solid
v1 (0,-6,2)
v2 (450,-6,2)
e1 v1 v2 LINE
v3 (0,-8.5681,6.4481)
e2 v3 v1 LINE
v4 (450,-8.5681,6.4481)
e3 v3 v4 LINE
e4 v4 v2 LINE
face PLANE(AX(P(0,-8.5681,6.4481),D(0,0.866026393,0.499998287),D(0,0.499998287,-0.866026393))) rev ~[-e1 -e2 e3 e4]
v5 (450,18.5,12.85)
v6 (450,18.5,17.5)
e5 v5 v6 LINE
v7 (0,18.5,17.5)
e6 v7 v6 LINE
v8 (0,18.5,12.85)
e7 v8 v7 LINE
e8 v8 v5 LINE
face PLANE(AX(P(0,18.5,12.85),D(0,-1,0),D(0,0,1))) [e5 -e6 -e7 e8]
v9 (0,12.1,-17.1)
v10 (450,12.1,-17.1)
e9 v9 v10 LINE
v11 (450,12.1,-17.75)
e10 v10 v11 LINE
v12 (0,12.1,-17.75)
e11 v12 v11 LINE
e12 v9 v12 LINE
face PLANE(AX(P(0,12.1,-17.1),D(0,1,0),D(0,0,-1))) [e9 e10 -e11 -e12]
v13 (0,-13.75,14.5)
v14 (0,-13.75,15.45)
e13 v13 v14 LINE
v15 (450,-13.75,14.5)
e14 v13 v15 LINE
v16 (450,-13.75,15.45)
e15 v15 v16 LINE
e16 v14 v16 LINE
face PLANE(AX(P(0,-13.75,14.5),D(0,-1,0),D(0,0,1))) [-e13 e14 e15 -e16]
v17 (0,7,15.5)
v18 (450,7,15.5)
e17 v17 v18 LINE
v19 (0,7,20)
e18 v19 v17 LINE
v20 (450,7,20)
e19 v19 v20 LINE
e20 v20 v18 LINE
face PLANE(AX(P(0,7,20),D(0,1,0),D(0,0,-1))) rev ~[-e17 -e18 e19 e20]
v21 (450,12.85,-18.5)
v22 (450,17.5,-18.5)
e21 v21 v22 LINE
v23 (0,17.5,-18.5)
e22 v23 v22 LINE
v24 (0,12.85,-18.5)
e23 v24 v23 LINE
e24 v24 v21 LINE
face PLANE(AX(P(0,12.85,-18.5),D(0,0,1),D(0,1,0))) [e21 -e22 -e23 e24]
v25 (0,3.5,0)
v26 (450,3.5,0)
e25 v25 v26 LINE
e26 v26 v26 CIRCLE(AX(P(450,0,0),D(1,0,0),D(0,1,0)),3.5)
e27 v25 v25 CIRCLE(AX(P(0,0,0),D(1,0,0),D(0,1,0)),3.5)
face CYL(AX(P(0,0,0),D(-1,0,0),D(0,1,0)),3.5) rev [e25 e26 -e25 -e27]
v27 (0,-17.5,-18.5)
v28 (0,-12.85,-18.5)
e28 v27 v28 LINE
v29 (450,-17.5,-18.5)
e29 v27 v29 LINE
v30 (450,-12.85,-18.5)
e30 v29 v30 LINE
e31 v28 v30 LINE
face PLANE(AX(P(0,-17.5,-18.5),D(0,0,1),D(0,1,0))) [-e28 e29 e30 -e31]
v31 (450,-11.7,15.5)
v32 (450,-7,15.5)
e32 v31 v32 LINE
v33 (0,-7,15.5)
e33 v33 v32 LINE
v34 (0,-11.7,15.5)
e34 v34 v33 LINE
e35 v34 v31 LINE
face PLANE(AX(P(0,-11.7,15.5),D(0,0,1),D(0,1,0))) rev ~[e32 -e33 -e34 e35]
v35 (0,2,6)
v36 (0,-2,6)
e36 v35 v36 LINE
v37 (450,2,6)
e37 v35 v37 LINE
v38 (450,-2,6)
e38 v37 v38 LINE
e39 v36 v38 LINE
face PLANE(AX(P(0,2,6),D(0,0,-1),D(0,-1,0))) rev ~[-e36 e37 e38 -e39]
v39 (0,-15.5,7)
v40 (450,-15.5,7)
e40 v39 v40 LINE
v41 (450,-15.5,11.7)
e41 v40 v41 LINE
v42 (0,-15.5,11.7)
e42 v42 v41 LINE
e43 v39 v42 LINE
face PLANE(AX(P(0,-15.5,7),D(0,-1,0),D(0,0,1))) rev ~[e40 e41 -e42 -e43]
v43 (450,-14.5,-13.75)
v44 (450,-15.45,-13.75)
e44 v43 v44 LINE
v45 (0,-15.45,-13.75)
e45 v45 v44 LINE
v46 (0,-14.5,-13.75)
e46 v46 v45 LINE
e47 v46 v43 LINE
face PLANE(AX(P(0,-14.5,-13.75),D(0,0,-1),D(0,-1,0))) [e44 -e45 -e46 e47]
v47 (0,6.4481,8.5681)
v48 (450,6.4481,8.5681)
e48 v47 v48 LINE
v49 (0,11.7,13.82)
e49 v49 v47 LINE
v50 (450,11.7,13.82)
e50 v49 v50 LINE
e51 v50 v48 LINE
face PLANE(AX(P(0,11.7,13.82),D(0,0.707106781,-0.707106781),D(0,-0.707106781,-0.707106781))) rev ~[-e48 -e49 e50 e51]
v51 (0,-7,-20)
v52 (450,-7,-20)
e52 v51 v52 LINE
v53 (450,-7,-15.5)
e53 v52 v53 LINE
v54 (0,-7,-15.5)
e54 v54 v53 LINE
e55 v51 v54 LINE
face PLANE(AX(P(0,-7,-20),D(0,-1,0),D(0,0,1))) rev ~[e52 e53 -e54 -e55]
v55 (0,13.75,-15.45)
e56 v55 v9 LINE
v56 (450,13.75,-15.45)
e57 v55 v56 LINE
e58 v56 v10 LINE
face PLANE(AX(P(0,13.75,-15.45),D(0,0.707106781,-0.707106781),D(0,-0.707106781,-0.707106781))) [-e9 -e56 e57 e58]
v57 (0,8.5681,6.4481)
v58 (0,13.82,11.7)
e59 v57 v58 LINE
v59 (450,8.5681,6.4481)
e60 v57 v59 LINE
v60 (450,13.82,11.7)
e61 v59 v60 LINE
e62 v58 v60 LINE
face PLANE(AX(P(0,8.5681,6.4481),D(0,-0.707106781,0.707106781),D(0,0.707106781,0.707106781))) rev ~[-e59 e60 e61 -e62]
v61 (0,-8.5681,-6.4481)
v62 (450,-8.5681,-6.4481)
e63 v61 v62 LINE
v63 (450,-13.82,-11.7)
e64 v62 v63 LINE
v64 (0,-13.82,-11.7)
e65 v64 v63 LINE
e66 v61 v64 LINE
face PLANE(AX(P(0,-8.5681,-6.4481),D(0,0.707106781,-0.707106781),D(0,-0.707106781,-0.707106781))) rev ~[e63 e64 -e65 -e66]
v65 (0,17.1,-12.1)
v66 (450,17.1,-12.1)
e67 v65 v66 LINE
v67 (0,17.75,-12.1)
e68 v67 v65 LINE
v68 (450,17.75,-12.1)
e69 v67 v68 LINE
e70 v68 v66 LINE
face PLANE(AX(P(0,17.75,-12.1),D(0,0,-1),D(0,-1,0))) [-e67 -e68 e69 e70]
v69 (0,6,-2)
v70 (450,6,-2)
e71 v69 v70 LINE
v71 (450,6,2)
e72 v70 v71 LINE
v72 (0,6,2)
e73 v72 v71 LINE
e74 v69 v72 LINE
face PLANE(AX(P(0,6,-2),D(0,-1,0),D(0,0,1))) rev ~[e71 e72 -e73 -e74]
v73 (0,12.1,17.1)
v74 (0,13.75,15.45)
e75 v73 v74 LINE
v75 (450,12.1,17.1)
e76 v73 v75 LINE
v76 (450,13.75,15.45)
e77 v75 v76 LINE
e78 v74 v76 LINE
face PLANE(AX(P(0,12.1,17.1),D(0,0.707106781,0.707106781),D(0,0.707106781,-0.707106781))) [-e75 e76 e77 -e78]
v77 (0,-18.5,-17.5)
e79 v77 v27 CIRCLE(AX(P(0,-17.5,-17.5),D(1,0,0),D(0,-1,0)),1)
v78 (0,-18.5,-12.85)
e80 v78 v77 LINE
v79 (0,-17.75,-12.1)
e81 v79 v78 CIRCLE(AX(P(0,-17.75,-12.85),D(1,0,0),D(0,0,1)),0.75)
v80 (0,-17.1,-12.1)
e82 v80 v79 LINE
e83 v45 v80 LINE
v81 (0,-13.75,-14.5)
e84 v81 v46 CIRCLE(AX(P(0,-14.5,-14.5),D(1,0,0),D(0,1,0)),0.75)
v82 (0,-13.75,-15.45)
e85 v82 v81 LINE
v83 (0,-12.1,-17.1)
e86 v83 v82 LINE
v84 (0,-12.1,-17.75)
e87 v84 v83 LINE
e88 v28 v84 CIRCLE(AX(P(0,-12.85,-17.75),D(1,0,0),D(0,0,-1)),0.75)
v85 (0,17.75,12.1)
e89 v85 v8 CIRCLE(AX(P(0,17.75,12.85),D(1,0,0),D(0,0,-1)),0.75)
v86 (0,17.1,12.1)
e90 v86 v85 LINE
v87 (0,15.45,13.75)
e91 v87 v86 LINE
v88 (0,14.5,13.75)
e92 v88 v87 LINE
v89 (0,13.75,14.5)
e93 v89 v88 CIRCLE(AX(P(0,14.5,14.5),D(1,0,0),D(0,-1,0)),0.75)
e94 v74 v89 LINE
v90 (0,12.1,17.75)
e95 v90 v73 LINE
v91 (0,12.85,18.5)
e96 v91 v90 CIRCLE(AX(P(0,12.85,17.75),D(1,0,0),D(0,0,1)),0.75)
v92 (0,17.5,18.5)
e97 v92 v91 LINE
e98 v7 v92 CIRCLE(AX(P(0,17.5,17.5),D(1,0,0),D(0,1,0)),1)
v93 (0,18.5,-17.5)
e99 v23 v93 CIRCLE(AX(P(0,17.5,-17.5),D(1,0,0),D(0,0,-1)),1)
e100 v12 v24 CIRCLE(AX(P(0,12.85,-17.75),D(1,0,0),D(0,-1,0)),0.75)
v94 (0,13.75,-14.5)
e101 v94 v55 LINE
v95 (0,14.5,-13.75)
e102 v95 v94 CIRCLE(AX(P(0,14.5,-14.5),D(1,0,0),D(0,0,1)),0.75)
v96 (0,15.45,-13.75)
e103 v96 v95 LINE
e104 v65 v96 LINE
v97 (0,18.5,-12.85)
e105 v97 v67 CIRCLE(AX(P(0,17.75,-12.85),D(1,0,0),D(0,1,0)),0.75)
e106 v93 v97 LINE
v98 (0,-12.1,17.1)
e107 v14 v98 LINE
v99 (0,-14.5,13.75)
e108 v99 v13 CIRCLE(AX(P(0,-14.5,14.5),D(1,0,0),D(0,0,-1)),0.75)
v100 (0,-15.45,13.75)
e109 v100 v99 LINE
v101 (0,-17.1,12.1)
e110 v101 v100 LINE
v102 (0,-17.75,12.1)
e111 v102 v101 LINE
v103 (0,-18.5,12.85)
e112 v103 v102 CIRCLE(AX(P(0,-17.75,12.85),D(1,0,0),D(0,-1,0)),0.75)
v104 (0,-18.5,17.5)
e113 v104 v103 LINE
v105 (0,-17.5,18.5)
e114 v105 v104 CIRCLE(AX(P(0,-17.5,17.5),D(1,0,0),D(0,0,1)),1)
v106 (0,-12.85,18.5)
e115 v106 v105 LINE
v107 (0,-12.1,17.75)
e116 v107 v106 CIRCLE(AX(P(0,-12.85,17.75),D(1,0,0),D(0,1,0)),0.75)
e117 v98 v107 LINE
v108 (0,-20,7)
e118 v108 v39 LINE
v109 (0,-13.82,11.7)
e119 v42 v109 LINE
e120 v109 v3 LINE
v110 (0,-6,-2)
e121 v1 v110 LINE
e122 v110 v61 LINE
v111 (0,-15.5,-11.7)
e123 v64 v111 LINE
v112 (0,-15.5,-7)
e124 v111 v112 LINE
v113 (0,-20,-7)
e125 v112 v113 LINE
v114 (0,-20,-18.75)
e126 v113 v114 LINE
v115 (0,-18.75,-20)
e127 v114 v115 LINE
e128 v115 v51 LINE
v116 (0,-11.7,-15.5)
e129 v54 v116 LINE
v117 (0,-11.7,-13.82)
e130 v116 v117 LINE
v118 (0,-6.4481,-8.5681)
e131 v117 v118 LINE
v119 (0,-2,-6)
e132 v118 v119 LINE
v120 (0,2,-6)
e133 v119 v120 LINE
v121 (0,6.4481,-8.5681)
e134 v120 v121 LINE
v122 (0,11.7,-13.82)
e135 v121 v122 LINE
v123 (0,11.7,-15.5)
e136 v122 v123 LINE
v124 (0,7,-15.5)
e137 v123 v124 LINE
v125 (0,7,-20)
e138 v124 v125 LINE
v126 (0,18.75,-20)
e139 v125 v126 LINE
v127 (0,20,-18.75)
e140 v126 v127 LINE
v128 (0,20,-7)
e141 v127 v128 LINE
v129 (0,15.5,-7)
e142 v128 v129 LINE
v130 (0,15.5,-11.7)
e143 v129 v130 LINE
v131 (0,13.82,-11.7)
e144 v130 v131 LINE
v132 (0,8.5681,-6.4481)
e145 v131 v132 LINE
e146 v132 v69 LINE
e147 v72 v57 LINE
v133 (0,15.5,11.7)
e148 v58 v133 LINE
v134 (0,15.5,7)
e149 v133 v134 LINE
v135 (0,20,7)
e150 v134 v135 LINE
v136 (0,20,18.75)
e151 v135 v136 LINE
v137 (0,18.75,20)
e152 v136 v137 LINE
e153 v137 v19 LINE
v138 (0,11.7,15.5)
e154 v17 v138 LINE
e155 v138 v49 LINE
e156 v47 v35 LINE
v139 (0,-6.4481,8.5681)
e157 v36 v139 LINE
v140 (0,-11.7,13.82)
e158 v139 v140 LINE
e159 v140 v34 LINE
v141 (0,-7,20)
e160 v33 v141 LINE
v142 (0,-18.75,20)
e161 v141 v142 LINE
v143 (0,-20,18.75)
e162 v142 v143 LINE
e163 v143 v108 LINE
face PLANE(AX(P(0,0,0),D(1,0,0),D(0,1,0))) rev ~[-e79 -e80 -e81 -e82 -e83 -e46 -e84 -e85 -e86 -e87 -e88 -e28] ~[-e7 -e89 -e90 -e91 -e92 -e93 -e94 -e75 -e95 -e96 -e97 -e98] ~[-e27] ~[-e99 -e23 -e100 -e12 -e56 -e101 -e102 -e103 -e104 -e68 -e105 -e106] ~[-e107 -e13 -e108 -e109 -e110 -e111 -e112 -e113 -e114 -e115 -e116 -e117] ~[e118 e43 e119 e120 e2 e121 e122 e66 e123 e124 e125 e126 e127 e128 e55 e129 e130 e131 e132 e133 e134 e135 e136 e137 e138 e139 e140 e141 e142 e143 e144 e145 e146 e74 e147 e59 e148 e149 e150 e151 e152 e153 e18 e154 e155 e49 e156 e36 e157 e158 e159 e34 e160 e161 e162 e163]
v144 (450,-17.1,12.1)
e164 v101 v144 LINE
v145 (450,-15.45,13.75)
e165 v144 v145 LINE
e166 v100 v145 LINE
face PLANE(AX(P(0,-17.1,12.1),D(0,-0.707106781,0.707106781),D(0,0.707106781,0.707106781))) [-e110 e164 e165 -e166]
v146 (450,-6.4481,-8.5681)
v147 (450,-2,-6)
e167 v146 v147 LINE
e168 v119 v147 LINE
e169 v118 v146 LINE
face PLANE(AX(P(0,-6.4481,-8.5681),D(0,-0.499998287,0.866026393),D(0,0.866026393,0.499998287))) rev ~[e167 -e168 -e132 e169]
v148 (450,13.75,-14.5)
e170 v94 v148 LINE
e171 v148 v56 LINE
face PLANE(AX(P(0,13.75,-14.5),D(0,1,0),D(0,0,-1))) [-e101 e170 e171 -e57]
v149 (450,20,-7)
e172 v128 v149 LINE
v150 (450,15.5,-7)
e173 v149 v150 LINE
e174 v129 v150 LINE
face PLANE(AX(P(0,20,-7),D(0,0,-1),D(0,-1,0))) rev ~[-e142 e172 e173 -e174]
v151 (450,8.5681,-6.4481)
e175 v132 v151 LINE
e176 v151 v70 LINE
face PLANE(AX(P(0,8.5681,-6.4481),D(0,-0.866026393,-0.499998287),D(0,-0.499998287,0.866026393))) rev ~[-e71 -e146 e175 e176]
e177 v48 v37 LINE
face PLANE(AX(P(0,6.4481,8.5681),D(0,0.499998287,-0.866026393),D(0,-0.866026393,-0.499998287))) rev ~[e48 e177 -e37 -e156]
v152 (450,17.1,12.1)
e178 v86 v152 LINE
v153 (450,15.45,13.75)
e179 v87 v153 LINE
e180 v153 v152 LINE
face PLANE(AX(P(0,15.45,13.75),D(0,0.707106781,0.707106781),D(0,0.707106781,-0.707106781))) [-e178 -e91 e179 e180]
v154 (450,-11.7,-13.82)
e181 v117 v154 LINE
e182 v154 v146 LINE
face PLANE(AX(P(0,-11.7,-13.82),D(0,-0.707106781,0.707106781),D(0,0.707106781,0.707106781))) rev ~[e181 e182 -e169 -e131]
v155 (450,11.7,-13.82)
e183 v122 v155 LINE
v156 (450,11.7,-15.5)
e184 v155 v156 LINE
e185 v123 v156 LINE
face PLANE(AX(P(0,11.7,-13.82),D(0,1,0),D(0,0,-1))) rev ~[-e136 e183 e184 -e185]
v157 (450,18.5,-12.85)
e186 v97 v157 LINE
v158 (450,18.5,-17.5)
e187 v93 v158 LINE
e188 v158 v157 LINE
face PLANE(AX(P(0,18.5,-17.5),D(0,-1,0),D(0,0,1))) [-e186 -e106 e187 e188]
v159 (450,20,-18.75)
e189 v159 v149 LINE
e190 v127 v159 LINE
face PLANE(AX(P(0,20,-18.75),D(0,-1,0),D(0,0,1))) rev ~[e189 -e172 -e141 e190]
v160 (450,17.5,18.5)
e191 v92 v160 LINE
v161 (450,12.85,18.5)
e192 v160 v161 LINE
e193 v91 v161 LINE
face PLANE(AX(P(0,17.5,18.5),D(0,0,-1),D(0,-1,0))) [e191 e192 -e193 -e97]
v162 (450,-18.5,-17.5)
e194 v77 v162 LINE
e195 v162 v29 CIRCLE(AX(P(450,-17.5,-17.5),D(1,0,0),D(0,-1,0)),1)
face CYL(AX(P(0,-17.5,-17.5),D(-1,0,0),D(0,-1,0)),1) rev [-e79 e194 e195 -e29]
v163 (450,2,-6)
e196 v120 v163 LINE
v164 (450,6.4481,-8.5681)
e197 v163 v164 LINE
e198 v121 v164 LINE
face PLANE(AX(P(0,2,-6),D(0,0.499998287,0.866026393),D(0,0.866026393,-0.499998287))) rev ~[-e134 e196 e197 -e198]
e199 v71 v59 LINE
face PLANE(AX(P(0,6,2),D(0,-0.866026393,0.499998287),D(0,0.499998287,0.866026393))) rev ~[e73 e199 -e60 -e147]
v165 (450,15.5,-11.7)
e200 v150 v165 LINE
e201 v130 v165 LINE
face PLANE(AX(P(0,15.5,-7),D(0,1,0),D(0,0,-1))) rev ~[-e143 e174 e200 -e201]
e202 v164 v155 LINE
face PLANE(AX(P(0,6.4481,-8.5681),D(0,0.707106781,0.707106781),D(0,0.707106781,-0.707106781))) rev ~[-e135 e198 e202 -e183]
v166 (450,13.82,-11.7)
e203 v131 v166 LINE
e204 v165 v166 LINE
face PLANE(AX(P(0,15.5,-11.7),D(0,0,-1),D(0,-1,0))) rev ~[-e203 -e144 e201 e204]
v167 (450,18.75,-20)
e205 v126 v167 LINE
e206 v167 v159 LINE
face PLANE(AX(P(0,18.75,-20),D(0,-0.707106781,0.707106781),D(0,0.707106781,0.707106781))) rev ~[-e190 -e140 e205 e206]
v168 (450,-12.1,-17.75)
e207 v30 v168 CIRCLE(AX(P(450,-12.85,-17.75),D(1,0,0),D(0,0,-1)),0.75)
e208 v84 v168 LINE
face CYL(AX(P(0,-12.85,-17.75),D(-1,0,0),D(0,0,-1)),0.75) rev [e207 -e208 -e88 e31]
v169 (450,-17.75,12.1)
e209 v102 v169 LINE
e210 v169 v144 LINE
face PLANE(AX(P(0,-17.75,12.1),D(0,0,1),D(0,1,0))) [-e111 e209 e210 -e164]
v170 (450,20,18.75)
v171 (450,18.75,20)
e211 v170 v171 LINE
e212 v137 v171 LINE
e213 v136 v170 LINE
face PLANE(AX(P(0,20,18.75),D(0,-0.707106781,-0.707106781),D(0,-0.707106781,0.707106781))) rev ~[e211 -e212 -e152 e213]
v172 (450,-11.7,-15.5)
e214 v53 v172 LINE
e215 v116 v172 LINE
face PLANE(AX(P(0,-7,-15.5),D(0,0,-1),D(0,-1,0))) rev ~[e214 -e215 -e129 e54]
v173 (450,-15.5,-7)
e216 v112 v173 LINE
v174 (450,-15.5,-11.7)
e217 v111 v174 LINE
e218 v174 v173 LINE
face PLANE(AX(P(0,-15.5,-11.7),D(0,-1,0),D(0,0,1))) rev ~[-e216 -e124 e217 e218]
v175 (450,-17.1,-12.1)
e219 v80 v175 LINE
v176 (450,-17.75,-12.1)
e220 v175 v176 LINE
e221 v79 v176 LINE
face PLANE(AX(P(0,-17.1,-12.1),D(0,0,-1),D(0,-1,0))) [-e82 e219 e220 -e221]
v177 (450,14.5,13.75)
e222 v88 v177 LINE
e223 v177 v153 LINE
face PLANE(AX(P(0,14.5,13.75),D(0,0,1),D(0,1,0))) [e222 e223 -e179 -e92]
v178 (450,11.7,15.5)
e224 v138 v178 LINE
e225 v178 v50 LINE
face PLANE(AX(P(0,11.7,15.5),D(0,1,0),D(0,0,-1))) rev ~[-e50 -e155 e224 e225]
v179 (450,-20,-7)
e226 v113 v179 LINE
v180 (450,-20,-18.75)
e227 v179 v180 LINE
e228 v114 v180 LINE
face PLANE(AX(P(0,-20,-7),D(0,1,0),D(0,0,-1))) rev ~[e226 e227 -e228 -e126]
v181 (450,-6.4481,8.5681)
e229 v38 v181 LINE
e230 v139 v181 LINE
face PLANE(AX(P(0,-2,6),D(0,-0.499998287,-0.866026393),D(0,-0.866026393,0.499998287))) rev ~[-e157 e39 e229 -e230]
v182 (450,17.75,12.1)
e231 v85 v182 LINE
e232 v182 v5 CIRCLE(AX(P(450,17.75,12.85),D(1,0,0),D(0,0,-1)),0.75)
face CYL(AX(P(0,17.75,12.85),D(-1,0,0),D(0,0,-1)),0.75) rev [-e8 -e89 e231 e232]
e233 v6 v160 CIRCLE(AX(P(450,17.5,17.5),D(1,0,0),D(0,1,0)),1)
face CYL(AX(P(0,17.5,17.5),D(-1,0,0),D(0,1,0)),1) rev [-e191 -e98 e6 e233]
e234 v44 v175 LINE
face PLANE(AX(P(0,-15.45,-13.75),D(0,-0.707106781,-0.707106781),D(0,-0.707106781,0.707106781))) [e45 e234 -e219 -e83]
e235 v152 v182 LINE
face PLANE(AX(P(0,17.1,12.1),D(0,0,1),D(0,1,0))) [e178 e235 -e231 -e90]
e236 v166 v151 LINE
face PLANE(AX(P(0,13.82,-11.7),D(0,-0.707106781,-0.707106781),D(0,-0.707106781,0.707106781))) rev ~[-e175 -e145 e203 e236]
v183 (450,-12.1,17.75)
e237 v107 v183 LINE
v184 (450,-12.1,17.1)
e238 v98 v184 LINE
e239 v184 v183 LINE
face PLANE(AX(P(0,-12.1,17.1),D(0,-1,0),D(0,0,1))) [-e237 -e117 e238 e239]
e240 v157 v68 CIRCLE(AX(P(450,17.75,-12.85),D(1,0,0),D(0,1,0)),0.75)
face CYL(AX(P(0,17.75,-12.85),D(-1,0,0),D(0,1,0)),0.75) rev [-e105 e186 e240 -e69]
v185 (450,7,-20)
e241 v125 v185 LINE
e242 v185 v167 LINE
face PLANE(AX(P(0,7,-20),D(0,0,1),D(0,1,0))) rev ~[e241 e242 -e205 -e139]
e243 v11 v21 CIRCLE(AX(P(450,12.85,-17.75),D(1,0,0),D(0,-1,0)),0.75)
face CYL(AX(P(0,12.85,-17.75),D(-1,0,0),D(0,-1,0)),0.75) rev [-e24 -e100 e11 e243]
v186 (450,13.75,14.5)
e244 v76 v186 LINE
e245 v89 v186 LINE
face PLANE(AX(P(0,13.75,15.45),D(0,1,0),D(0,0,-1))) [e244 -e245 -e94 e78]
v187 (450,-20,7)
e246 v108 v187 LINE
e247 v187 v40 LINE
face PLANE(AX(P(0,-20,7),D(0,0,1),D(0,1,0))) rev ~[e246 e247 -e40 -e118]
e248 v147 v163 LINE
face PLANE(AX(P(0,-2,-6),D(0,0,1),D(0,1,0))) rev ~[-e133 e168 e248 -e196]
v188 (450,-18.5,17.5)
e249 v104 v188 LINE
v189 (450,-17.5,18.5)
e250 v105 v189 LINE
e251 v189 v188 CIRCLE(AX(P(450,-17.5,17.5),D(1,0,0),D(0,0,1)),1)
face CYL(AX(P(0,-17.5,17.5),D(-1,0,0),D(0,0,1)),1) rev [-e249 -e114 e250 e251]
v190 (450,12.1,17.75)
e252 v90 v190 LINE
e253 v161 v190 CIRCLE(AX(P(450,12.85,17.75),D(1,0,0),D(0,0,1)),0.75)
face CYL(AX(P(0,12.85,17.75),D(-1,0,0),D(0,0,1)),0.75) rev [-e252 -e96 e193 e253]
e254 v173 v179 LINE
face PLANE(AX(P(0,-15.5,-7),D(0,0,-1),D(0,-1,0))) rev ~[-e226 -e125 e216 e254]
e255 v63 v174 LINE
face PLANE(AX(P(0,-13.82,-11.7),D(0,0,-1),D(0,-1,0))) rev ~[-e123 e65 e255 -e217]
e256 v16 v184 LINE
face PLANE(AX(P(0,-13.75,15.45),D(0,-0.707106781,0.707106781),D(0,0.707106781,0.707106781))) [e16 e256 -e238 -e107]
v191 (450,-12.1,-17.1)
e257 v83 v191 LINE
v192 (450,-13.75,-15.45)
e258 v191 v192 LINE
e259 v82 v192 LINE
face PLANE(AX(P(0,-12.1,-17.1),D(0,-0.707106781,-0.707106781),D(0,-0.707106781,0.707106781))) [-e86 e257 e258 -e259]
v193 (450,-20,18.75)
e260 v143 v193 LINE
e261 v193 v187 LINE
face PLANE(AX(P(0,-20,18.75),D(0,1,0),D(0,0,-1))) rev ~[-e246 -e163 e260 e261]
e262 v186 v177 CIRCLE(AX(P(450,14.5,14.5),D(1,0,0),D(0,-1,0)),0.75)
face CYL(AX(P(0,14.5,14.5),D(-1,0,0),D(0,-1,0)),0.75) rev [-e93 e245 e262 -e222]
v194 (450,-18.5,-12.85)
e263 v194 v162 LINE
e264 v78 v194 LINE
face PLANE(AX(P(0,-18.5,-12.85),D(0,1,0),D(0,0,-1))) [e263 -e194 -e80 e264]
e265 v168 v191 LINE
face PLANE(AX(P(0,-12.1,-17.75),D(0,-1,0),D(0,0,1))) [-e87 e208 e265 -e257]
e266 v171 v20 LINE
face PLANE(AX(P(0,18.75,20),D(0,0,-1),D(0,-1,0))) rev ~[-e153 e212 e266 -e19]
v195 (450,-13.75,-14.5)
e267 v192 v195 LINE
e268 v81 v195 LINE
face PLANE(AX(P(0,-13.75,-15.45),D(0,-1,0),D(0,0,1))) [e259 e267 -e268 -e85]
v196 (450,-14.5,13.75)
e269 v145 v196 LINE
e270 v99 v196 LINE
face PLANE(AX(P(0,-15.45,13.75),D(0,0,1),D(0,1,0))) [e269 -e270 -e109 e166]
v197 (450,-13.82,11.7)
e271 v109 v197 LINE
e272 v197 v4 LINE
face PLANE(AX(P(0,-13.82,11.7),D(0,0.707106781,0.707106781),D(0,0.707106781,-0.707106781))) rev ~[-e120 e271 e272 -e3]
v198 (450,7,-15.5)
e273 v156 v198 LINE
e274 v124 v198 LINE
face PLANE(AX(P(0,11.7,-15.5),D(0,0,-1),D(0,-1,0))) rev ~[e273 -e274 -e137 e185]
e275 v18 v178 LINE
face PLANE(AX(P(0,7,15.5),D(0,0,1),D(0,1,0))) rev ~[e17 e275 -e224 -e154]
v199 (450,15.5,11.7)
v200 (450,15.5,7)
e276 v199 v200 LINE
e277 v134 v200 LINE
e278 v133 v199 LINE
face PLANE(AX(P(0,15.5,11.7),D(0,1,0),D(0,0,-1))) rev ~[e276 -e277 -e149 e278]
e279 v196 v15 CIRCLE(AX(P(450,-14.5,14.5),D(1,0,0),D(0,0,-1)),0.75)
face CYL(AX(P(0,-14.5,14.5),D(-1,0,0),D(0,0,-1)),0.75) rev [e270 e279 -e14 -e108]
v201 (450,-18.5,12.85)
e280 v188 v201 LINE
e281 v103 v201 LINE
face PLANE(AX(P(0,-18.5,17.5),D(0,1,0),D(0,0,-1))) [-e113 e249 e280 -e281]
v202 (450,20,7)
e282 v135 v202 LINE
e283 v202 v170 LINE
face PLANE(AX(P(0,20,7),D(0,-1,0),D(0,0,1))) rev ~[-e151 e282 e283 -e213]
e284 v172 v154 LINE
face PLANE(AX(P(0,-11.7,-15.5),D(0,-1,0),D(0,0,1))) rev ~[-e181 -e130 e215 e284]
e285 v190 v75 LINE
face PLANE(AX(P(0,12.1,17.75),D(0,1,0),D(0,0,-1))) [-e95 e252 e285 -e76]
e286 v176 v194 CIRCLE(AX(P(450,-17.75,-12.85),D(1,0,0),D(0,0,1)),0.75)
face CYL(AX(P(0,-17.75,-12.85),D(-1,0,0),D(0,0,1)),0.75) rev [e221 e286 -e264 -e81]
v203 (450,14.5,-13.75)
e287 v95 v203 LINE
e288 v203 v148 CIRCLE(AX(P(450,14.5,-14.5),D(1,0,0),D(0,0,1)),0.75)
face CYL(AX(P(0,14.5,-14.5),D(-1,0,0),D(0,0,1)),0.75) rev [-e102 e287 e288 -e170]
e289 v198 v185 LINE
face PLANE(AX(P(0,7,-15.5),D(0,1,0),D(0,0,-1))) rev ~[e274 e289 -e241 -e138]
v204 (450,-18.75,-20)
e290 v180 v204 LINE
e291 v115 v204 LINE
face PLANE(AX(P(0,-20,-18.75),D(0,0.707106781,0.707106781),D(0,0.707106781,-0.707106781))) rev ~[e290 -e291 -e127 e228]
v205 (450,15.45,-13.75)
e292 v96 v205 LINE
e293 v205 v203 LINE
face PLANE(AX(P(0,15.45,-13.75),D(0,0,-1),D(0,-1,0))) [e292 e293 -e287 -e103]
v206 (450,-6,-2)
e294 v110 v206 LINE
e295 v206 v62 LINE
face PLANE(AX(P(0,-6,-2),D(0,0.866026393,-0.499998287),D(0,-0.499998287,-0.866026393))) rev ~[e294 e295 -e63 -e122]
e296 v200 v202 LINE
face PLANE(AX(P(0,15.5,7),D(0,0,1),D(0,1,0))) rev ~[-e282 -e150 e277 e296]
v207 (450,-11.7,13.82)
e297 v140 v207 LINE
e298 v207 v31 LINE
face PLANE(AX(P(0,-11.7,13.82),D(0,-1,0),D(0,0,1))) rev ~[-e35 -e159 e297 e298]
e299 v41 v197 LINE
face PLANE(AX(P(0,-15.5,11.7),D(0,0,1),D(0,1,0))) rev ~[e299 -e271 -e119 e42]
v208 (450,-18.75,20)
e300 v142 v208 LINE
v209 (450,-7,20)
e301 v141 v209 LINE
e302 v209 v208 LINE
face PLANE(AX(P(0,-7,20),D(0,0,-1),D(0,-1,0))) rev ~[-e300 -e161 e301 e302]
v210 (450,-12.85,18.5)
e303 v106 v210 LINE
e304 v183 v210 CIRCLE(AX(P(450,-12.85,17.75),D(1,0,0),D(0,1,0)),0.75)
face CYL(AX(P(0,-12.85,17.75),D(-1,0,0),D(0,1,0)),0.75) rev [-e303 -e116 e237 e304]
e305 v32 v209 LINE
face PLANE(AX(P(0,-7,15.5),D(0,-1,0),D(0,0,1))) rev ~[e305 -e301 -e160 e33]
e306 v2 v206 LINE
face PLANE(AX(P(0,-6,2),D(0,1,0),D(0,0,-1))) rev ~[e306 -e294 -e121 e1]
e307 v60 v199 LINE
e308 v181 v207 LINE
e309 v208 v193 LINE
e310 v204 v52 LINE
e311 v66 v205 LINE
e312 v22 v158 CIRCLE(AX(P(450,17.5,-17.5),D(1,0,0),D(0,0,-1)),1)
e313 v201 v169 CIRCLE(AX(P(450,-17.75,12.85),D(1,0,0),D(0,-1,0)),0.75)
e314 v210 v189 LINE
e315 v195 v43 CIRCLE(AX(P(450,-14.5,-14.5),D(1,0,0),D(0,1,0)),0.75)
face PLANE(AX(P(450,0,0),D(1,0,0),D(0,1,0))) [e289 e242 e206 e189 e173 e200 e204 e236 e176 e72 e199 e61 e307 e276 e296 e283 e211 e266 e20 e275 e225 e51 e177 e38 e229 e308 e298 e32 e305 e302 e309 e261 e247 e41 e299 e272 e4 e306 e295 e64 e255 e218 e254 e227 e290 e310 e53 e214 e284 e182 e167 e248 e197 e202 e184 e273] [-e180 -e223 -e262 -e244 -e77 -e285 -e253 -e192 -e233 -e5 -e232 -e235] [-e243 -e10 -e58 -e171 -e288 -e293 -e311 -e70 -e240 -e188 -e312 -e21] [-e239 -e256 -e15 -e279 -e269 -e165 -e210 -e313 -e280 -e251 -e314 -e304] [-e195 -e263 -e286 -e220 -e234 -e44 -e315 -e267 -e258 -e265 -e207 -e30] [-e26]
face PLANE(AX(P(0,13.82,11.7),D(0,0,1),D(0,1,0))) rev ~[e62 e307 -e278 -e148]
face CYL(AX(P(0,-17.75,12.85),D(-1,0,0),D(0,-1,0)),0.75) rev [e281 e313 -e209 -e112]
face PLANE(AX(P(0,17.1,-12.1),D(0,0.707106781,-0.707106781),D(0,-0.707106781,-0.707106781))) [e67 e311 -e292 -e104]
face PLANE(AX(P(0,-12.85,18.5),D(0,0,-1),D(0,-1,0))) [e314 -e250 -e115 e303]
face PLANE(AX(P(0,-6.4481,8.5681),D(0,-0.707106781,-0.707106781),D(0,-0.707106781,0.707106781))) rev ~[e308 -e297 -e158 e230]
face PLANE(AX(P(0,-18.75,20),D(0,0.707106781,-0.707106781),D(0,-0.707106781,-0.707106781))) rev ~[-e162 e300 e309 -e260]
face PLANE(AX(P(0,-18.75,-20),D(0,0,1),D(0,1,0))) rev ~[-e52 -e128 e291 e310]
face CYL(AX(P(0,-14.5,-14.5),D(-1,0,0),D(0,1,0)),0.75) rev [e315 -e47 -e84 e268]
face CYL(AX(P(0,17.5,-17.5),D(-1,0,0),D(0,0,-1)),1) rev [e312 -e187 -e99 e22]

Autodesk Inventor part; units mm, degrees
sketch "Skizze_1" plane through (0, 0, 0) normal (1, 0, 0) x (0, 1, 0)
  line L0 (18.75, 20) -> (7, 20)
  line L1 (7, 20) -> (7, 15.5)
  line L2 (7, 15.5) -> (11.7, 15.5)
  line L3 (11.7, 15.5) -> (11.7, 13.82)
  line L4 (11.7, 13.82) -> (6.4481, 8.5681)
  line L5 (6.4481, 8.5681) -> (2, 6)
  line L6 (2, 6) -> (-2, 6)
  line L7 (-2, 6) -> (-6.4481, 8.5681)
  line L8 (-6.4481, 8.5681) -> (-11.7, 13.82)
  line L9 (-11.7, 13.82) -> (-11.7, 15.5)
  line L10 (-11.7, 15.5) -> (-7, 15.5)
  line L11 (-7, 15.5) -> (-7, 20)
  line L12 (-7, 20) -> (-18.75, 20)
  line L13 (-18.75, 20) -> (-20, 18.75)
  line L14 (-20, 18.75) -> (-20, 7)
  line L15 (-20, 7) -> (-15.5, 7)
  line L16 (-15.5, 7) -> (-15.5, 11.7)
  line L17 (-15.5, 11.7) -> (-13.82, 11.7)
  line L18 (-13.82, 11.7) -> (-8.5681, 6.4481)
  line L19 (-8.5681, 6.4481) -> (-6, 2)
  line L20 (-6, 2) -> (-6, -2)
  line L21 (-6, -2) -> (-8.5681, -6.4481)
  line L22 (-8.5681, -6.4481) -> (-13.82, -11.7)
  line L23 (-13.82, -11.7) -> (-15.5, -11.7)
  line L24 (-15.5, -11.7) -> (-15.5, -7)
  line L25 (-15.5, -7) -> (-20, -7)
  line L26 (-20, -7) -> (-20, -18.75)
  line L27 (-20, -18.75) -> (-18.75, -20)
  line L28 (-18.75, -20) -> (-7, -20)
  line L29 (-7, -20) -> (-7, -15.5)
  line L30 (-7, -15.5) -> (-11.7, -15.5)
  line L31 (-11.7, -15.5) -> (-11.7, -13.82)
  line L32 (-11.7, -13.82) -> (-6.4481, -8.5681)
  line L33 (-6.4481, -8.5681) -> (-2, -6)
  line L34 (-2, -6) -> (2, -6)
  line L35 (2, -6) -> (6.4481, -8.5681)
  line L36 (6.4481, -8.5681) -> (11.7, -13.82)
  line L37 (11.7, -13.82) -> (11.7, -15.5)
  line L38 (11.7, -15.5) -> (7, -15.5)
  line L39 (7, -15.5) -> (7, -20)
  line L40 (7, -20) -> (18.75, -20)
  line L41 (18.75, -20) -> (20, -18.75)
  line L42 (20, -18.75) -> (20, -7)
  line L43 (20, -7) -> (15.5, -7)
  line L44 (15.5, -7) -> (15.5, -11.7)
  line L45 (15.5, -11.7) -> (13.82, -11.7)
  line L46 (13.82, -11.7) -> (8.5681, -6.4481)
  line L47 (8.5681, -6.4481) -> (6, -2)
  line L48 (6, -2) -> (6, 2)
  line L49 (6, 2) -> (8.5681, 6.4481)
  line L50 (8.5681, 6.4481) -> (13.82, 11.7)
  line L51 (13.82, 11.7) -> (15.5, 11.7)
  line L52 (15.5, 11.7) -> (15.5, 7)
  line L53 (15.5, 7) -> (20, 7)
  line L54 (20, 7) -> (20, 18.75)
  line L55 (20, 18.75) -> (18.75, 20)
  line L56 (17.75, -12.1) -> (17.1, -12.1)
  line L57 (17.1, -12.1) -> (15.45, -13.75)
  line L58 (15.45, -13.75) -> (14.5, -13.75)
  arc A0 (14.5, -13.75) -> (13.75, -14.5) centre (14.5, -14.5) ccw
  line L59 (13.75, -14.5) -> (13.75, -15.45)
  line L60 (13.75, -15.45) -> (12.1, -17.1)
  line L61 (12.1, -17.1) -> (12.1, -17.75)
  arc A1 (12.1, -17.75) -> (12.85, -18.5) centre (12.85, -17.75) ccw
  line L62 (12.85, -18.5) -> (17.5, -18.5)
  arc A2 (17.5, -18.5) -> (18.5, -17.5) centre (17.5, -17.5) ccw
  line L63 (18.5, -17.5) -> (18.5, -12.85)
  arc A3 (18.5, -12.85) -> (17.75, -12.1) centre (17.75, -12.85) ccw
  line L64 (-17.1, -12.1) -> (-17.75, -12.1)
  arc A4 (-17.75, -12.1) -> (-18.5, -12.85) centre (-17.75, -12.85) ccw
  line L65 (-18.5, -12.85) -> (-18.5, -17.5)
  arc A5 (-18.5, -17.5) -> (-17.5, -18.5) centre (-17.5, -17.5) ccw
  line L66 (-17.5, -18.5) -> (-12.85, -18.5)
  arc A6 (-12.85, -18.5) -> (-12.1, -17.75) centre (-12.85, -17.75) ccw
  line L67 (-12.1, -17.75) -> (-12.1, -17.1)
  line L68 (-12.1, -17.1) -> (-13.75, -15.45)
  line L69 (-13.75, -15.45) -> (-13.75, -14.5)
  arc A7 (-13.75, -14.5) -> (-14.5, -13.75) centre (-14.5, -14.5) ccw
  line L70 (-14.5, -13.75) -> (-15.45, -13.75)
  line L71 (-15.45, -13.75) -> (-17.1, -12.1)
  circle A8 centre (0, 0) radius 3.5
  arc A9 (-17.5, 18.5) -> (-18.5, 17.5) centre (-17.5, 17.5) ccw
  line L72 (-18.5, 17.5) -> (-18.5, 12.85)
  arc A10 (-18.5, 12.85) -> (-17.75, 12.1) centre (-17.75, 12.85) ccw
  line L73 (-17.75, 12.1) -> (-17.1, 12.1)
  line L74 (-17.1, 12.1) -> (-15.45, 13.75)
  line L75 (-15.45, 13.75) -> (-14.5, 13.75)
  arc A11 (-14.5, 13.75) -> (-13.75, 14.5) centre (-14.5, 14.5) ccw
  line L76 (-13.75, 14.5) -> (-13.75, 15.45)
  line L77 (-13.75, 15.45) -> (-12.1, 17.1)
  line L78 (-12.1, 17.1) -> (-12.1, 17.75)
  arc A12 (-12.1, 17.75) -> (-12.85, 18.5) centre (-12.85, 17.75) ccw
  line L79 (-12.85, 18.5) -> (-17.5, 18.5)
  line L80 (17.5, 18.5) -> (12.85, 18.5)
  arc A13 (12.85, 18.5) -> (12.1, 17.75) centre (12.85, 17.75) ccw
  line L81 (12.1, 17.75) -> (12.1, 17.1)
  line L82 (12.1, 17.1) -> (13.75, 15.45)
  line L83 (13.75, 15.45) -> (13.75, 14.5)
  arc A14 (13.75, 14.5) -> (14.5, 13.75) centre (14.5, 14.5) ccw
  line L84 (14.5, 13.75) -> (15.45, 13.75)
  line L85 (15.45, 13.75) -> (17.1, 12.1)
  line L86 (17.1, 12.1) -> (17.75, 12.1)
  arc A15 (17.75, 12.1) -> (18.5, 12.85) centre (17.75, 12.85) ccw
  line L87 (18.5, 12.85) -> (18.5, 17.5)
  arc A16 (18.5, 17.5) -> (17.5, 18.5) centre (17.5, 17.5) ccw
extrude "Extrusion1" add sketch "Skizze_1" along normal blind 450
ref_plane "CS_ANBAU_HINTEN_LINKS_XY" through (450, 0, 20) normal (1, 0, 0) x (0, 0, -1)
ref_plane "CS_ANBAU_HINTEN_LINKS_YZ" through (450, 0, 20) normal (0, 0, -1) x (0, 1, 0)
ref_plane "CS_ANBAU_HINTEN_LINKS_ZX" through (450, 0, 20) normal (0, 1, 0) x (1, 0, 0)
ref_plane "CS_ANBAU_HINTEN_OBEN_XY" through (450, 20, 0) normal (1, 0, 0) x (0, 0, -1)
ref_plane "CS_ANBAU_HINTEN_OBEN_YZ" through (450, 20, 0) normal (0, 0, -1) x (0, 1, 0)
ref_plane "CS_ANBAU_HINTEN_OBEN_ZX" through (450, 20, 0) normal (0, 1, 0) x (1, 0, 0)
ref_plane "CS_ANBAU_HINTEN_RECHTS_XY" through (450, 0, -20) normal (1, 0, 0) x (0, 0, -1)
ref_plane "CS_ANBAU_HINTEN_RECHTS_YZ" through (450, 0, -20) normal (0, 0, -1) x (0, 1, 0)
ref_plane "CS_ANBAU_HINTEN_RECHTS_ZX" through (450, 0, -20) normal (0, 1, 0) x (1, 0, 0)
ref_plane "CS_ANBAU_HINTEN_UNTEN_XY" through (450, -20, 0) normal (1, 0, 0) x (0, 0, -1)
ref_plane "CS_ANBAU_HINTEN_UNTEN_YZ" through (450, -20, 0) normal (0, 0, -1) x (0, 1, 0)
ref_plane "CS_ANBAU_HINTEN_UNTEN_ZX" through (450, -20, 0) normal (0, 1, 0) x (1, 0, 0)
ref_plane "CS_ANBAU_QUER_XY" through (0, 0, 20) normal (0, 0, 1) x (1, 0, 0)
ref_plane "CS_ANBAU_QUER_YZ" through (0, 0, 20) normal (1, 0, 0) x (0, 1, 0)
ref_plane "CS_ANBAU_QUER_ZX" through (0, 0, 20) normal (0, 1, 0) x (0, 0, 1)
ref_plane "CS_ANBAU_QUER_1_XY" through (450, 0, 20) normal (0, 0, 1) x (1, 0, 0)
ref_plane "CS_ANBAU_QUER_1_YZ" through (450, 0, 20) normal (1, 0, 0) x (0, 1, 0)
ref_plane "CS_ANBAU_QUER_1_ZX" through (450, 0, 20) normal (0, 1, 0) x (0, 0, 1)
ref_plane "CS_ANBAU_VORNE_LINKS_XY" through (0, 0, 20) normal (-1, 0, 0) x (0, 0, -1)
ref_plane "CS_ANBAU_VORNE_LINKS_YZ" through (0, 0, 20) normal (0, 0, -1) x (0, -1, 0)
ref_plane "CS_ANBAU_VORNE_LINKS_ZX" through (0, 0, 20) normal (0, -1, 0) x (-1, 0, 0)
ref_plane "CS_ANBAU_VORNE_OBEN_XY" through (0, 20, 0) normal (-1, 0, 0) x (0, 0, -1)
ref_plane "CS_ANBAU_VORNE_OBEN_YZ" through (0, 20, 0) normal (0, 0, -1) x (0, -1, 0)
ref_plane "CS_ANBAU_VORNE_OBEN_ZX" through (0, 20, 0) normal (0, -1, 0) x (-1, 0, 0)
ref_plane "CS_ANBAU_VORNE_RECHTS_XY" through (0, 0, -20) normal (-1, 0, 0) x (0, 0, -1)
ref_plane "CS_ANBAU_VORNE_RECHTS_YZ" through (0, 0, -20) normal (0, 0, -1) x (0, -1, 0)
ref_plane "CS_ANBAU_VORNE_RECHTS_ZX" through (0, 0, -20) normal (0, -1, 0) x (-1, 0, 0)
ref_plane "CS_ANBAU_VORNE_UNTEN_XY" through (0, -20, 0) normal (-1, 0, 0) x (0, 0, -1)
ref_plane "CS_ANBAU_VORNE_UNTEN_YZ" through (0, -20, 0) normal (0, 0, -1) x (0, -1, 0)
ref_plane "CS_ANBAU_VORNE_UNTEN_ZX" through (0, -20, 0) normal (0, -1, 0) x (-1, 0, 0)
ref_plane "p1_XY" through (0, 20, 0) normal (0, 0, 1) x (1, 0, 0)
ref_plane "p1_YZ" through (0, 20, 0) normal (1, 0, 0) x (0, 1, 0)
ref_plane "p1_ZX" through (0, 20, 0) normal (0, 1, 0) x (0, 0, 1)
ref_plane "p2_XY" through (450, 20, 0) normal (0, 0, 1) x (1, 0, 0)
ref_plane "p2_YZ" through (450, 20, 0) normal (1, 0, 0) x (0, 1, 0)
ref_plane "p2_ZX" through (450, 20, 0) normal (0, 1, 0) x (0, 0, 1)
ref_plane "p3_XY" through (450, -20, 18.75) normal (1, 0, 0) x (0, 0, -1)
ref_plane "p3_YZ" through (450, -20, 18.75) normal (0, 0, -1) x (0, 1, 0)
ref_plane "p3_ZX" through (450, -20, 18.75) normal (0, 1, 0) x (1, 0, 0)
ref_plane "p4_XY" through (450, 20, 18.75) normal (1, 0, 0) x (0, 0, -1)
ref_plane "p4_YZ" through (450, 20, 18.75) normal (0, 0, -1) x (0, 1, 0)
ref_plane "p4_ZX" through (450, 20, 18.75) normal (0, 1, 0) x (1, 0, 0)
ref_plane "p5_XY" through (450, 20, -21.25) normal (1, 0, 0) x (0, 0, -1)
ref_plane "p5_YZ" through (450, 20, -21.25) normal (0, 0, -1) x (0, 1, 0)
ref_plane "p5_ZX" through (450, 20, -21.25) normal (0, 1, 0) x (1, 0, 0)
ref_plane "pm1_XY" through (0, 0, 0) normal (1, 0, 0) x (0, 0, -1)
ref_plane "pm1_YZ" through (0, 0, 0) normal (0, 0, -1) x (0, 1, 0)
ref_plane "pm1_ZX" through (0, 0, 0) normal (0, 1, 0) x (1, 0, 0)
ref_plane "pm2_XY" through (450, 0, -1.25) normal (1, 0, 0) x (0, 0, -1)
ref_plane "pm2_YZ" through (450, 0, -1.25) normal (0, 0, -1) x (0, 1, 0)
ref_plane "pm2_ZX" through (450, 0, -1.25) normal (0, 1, 0) x (1, 0, 0)
properties part number "Robotunits Profil 40 x 40 - PIL 4040 SNN 0450"
